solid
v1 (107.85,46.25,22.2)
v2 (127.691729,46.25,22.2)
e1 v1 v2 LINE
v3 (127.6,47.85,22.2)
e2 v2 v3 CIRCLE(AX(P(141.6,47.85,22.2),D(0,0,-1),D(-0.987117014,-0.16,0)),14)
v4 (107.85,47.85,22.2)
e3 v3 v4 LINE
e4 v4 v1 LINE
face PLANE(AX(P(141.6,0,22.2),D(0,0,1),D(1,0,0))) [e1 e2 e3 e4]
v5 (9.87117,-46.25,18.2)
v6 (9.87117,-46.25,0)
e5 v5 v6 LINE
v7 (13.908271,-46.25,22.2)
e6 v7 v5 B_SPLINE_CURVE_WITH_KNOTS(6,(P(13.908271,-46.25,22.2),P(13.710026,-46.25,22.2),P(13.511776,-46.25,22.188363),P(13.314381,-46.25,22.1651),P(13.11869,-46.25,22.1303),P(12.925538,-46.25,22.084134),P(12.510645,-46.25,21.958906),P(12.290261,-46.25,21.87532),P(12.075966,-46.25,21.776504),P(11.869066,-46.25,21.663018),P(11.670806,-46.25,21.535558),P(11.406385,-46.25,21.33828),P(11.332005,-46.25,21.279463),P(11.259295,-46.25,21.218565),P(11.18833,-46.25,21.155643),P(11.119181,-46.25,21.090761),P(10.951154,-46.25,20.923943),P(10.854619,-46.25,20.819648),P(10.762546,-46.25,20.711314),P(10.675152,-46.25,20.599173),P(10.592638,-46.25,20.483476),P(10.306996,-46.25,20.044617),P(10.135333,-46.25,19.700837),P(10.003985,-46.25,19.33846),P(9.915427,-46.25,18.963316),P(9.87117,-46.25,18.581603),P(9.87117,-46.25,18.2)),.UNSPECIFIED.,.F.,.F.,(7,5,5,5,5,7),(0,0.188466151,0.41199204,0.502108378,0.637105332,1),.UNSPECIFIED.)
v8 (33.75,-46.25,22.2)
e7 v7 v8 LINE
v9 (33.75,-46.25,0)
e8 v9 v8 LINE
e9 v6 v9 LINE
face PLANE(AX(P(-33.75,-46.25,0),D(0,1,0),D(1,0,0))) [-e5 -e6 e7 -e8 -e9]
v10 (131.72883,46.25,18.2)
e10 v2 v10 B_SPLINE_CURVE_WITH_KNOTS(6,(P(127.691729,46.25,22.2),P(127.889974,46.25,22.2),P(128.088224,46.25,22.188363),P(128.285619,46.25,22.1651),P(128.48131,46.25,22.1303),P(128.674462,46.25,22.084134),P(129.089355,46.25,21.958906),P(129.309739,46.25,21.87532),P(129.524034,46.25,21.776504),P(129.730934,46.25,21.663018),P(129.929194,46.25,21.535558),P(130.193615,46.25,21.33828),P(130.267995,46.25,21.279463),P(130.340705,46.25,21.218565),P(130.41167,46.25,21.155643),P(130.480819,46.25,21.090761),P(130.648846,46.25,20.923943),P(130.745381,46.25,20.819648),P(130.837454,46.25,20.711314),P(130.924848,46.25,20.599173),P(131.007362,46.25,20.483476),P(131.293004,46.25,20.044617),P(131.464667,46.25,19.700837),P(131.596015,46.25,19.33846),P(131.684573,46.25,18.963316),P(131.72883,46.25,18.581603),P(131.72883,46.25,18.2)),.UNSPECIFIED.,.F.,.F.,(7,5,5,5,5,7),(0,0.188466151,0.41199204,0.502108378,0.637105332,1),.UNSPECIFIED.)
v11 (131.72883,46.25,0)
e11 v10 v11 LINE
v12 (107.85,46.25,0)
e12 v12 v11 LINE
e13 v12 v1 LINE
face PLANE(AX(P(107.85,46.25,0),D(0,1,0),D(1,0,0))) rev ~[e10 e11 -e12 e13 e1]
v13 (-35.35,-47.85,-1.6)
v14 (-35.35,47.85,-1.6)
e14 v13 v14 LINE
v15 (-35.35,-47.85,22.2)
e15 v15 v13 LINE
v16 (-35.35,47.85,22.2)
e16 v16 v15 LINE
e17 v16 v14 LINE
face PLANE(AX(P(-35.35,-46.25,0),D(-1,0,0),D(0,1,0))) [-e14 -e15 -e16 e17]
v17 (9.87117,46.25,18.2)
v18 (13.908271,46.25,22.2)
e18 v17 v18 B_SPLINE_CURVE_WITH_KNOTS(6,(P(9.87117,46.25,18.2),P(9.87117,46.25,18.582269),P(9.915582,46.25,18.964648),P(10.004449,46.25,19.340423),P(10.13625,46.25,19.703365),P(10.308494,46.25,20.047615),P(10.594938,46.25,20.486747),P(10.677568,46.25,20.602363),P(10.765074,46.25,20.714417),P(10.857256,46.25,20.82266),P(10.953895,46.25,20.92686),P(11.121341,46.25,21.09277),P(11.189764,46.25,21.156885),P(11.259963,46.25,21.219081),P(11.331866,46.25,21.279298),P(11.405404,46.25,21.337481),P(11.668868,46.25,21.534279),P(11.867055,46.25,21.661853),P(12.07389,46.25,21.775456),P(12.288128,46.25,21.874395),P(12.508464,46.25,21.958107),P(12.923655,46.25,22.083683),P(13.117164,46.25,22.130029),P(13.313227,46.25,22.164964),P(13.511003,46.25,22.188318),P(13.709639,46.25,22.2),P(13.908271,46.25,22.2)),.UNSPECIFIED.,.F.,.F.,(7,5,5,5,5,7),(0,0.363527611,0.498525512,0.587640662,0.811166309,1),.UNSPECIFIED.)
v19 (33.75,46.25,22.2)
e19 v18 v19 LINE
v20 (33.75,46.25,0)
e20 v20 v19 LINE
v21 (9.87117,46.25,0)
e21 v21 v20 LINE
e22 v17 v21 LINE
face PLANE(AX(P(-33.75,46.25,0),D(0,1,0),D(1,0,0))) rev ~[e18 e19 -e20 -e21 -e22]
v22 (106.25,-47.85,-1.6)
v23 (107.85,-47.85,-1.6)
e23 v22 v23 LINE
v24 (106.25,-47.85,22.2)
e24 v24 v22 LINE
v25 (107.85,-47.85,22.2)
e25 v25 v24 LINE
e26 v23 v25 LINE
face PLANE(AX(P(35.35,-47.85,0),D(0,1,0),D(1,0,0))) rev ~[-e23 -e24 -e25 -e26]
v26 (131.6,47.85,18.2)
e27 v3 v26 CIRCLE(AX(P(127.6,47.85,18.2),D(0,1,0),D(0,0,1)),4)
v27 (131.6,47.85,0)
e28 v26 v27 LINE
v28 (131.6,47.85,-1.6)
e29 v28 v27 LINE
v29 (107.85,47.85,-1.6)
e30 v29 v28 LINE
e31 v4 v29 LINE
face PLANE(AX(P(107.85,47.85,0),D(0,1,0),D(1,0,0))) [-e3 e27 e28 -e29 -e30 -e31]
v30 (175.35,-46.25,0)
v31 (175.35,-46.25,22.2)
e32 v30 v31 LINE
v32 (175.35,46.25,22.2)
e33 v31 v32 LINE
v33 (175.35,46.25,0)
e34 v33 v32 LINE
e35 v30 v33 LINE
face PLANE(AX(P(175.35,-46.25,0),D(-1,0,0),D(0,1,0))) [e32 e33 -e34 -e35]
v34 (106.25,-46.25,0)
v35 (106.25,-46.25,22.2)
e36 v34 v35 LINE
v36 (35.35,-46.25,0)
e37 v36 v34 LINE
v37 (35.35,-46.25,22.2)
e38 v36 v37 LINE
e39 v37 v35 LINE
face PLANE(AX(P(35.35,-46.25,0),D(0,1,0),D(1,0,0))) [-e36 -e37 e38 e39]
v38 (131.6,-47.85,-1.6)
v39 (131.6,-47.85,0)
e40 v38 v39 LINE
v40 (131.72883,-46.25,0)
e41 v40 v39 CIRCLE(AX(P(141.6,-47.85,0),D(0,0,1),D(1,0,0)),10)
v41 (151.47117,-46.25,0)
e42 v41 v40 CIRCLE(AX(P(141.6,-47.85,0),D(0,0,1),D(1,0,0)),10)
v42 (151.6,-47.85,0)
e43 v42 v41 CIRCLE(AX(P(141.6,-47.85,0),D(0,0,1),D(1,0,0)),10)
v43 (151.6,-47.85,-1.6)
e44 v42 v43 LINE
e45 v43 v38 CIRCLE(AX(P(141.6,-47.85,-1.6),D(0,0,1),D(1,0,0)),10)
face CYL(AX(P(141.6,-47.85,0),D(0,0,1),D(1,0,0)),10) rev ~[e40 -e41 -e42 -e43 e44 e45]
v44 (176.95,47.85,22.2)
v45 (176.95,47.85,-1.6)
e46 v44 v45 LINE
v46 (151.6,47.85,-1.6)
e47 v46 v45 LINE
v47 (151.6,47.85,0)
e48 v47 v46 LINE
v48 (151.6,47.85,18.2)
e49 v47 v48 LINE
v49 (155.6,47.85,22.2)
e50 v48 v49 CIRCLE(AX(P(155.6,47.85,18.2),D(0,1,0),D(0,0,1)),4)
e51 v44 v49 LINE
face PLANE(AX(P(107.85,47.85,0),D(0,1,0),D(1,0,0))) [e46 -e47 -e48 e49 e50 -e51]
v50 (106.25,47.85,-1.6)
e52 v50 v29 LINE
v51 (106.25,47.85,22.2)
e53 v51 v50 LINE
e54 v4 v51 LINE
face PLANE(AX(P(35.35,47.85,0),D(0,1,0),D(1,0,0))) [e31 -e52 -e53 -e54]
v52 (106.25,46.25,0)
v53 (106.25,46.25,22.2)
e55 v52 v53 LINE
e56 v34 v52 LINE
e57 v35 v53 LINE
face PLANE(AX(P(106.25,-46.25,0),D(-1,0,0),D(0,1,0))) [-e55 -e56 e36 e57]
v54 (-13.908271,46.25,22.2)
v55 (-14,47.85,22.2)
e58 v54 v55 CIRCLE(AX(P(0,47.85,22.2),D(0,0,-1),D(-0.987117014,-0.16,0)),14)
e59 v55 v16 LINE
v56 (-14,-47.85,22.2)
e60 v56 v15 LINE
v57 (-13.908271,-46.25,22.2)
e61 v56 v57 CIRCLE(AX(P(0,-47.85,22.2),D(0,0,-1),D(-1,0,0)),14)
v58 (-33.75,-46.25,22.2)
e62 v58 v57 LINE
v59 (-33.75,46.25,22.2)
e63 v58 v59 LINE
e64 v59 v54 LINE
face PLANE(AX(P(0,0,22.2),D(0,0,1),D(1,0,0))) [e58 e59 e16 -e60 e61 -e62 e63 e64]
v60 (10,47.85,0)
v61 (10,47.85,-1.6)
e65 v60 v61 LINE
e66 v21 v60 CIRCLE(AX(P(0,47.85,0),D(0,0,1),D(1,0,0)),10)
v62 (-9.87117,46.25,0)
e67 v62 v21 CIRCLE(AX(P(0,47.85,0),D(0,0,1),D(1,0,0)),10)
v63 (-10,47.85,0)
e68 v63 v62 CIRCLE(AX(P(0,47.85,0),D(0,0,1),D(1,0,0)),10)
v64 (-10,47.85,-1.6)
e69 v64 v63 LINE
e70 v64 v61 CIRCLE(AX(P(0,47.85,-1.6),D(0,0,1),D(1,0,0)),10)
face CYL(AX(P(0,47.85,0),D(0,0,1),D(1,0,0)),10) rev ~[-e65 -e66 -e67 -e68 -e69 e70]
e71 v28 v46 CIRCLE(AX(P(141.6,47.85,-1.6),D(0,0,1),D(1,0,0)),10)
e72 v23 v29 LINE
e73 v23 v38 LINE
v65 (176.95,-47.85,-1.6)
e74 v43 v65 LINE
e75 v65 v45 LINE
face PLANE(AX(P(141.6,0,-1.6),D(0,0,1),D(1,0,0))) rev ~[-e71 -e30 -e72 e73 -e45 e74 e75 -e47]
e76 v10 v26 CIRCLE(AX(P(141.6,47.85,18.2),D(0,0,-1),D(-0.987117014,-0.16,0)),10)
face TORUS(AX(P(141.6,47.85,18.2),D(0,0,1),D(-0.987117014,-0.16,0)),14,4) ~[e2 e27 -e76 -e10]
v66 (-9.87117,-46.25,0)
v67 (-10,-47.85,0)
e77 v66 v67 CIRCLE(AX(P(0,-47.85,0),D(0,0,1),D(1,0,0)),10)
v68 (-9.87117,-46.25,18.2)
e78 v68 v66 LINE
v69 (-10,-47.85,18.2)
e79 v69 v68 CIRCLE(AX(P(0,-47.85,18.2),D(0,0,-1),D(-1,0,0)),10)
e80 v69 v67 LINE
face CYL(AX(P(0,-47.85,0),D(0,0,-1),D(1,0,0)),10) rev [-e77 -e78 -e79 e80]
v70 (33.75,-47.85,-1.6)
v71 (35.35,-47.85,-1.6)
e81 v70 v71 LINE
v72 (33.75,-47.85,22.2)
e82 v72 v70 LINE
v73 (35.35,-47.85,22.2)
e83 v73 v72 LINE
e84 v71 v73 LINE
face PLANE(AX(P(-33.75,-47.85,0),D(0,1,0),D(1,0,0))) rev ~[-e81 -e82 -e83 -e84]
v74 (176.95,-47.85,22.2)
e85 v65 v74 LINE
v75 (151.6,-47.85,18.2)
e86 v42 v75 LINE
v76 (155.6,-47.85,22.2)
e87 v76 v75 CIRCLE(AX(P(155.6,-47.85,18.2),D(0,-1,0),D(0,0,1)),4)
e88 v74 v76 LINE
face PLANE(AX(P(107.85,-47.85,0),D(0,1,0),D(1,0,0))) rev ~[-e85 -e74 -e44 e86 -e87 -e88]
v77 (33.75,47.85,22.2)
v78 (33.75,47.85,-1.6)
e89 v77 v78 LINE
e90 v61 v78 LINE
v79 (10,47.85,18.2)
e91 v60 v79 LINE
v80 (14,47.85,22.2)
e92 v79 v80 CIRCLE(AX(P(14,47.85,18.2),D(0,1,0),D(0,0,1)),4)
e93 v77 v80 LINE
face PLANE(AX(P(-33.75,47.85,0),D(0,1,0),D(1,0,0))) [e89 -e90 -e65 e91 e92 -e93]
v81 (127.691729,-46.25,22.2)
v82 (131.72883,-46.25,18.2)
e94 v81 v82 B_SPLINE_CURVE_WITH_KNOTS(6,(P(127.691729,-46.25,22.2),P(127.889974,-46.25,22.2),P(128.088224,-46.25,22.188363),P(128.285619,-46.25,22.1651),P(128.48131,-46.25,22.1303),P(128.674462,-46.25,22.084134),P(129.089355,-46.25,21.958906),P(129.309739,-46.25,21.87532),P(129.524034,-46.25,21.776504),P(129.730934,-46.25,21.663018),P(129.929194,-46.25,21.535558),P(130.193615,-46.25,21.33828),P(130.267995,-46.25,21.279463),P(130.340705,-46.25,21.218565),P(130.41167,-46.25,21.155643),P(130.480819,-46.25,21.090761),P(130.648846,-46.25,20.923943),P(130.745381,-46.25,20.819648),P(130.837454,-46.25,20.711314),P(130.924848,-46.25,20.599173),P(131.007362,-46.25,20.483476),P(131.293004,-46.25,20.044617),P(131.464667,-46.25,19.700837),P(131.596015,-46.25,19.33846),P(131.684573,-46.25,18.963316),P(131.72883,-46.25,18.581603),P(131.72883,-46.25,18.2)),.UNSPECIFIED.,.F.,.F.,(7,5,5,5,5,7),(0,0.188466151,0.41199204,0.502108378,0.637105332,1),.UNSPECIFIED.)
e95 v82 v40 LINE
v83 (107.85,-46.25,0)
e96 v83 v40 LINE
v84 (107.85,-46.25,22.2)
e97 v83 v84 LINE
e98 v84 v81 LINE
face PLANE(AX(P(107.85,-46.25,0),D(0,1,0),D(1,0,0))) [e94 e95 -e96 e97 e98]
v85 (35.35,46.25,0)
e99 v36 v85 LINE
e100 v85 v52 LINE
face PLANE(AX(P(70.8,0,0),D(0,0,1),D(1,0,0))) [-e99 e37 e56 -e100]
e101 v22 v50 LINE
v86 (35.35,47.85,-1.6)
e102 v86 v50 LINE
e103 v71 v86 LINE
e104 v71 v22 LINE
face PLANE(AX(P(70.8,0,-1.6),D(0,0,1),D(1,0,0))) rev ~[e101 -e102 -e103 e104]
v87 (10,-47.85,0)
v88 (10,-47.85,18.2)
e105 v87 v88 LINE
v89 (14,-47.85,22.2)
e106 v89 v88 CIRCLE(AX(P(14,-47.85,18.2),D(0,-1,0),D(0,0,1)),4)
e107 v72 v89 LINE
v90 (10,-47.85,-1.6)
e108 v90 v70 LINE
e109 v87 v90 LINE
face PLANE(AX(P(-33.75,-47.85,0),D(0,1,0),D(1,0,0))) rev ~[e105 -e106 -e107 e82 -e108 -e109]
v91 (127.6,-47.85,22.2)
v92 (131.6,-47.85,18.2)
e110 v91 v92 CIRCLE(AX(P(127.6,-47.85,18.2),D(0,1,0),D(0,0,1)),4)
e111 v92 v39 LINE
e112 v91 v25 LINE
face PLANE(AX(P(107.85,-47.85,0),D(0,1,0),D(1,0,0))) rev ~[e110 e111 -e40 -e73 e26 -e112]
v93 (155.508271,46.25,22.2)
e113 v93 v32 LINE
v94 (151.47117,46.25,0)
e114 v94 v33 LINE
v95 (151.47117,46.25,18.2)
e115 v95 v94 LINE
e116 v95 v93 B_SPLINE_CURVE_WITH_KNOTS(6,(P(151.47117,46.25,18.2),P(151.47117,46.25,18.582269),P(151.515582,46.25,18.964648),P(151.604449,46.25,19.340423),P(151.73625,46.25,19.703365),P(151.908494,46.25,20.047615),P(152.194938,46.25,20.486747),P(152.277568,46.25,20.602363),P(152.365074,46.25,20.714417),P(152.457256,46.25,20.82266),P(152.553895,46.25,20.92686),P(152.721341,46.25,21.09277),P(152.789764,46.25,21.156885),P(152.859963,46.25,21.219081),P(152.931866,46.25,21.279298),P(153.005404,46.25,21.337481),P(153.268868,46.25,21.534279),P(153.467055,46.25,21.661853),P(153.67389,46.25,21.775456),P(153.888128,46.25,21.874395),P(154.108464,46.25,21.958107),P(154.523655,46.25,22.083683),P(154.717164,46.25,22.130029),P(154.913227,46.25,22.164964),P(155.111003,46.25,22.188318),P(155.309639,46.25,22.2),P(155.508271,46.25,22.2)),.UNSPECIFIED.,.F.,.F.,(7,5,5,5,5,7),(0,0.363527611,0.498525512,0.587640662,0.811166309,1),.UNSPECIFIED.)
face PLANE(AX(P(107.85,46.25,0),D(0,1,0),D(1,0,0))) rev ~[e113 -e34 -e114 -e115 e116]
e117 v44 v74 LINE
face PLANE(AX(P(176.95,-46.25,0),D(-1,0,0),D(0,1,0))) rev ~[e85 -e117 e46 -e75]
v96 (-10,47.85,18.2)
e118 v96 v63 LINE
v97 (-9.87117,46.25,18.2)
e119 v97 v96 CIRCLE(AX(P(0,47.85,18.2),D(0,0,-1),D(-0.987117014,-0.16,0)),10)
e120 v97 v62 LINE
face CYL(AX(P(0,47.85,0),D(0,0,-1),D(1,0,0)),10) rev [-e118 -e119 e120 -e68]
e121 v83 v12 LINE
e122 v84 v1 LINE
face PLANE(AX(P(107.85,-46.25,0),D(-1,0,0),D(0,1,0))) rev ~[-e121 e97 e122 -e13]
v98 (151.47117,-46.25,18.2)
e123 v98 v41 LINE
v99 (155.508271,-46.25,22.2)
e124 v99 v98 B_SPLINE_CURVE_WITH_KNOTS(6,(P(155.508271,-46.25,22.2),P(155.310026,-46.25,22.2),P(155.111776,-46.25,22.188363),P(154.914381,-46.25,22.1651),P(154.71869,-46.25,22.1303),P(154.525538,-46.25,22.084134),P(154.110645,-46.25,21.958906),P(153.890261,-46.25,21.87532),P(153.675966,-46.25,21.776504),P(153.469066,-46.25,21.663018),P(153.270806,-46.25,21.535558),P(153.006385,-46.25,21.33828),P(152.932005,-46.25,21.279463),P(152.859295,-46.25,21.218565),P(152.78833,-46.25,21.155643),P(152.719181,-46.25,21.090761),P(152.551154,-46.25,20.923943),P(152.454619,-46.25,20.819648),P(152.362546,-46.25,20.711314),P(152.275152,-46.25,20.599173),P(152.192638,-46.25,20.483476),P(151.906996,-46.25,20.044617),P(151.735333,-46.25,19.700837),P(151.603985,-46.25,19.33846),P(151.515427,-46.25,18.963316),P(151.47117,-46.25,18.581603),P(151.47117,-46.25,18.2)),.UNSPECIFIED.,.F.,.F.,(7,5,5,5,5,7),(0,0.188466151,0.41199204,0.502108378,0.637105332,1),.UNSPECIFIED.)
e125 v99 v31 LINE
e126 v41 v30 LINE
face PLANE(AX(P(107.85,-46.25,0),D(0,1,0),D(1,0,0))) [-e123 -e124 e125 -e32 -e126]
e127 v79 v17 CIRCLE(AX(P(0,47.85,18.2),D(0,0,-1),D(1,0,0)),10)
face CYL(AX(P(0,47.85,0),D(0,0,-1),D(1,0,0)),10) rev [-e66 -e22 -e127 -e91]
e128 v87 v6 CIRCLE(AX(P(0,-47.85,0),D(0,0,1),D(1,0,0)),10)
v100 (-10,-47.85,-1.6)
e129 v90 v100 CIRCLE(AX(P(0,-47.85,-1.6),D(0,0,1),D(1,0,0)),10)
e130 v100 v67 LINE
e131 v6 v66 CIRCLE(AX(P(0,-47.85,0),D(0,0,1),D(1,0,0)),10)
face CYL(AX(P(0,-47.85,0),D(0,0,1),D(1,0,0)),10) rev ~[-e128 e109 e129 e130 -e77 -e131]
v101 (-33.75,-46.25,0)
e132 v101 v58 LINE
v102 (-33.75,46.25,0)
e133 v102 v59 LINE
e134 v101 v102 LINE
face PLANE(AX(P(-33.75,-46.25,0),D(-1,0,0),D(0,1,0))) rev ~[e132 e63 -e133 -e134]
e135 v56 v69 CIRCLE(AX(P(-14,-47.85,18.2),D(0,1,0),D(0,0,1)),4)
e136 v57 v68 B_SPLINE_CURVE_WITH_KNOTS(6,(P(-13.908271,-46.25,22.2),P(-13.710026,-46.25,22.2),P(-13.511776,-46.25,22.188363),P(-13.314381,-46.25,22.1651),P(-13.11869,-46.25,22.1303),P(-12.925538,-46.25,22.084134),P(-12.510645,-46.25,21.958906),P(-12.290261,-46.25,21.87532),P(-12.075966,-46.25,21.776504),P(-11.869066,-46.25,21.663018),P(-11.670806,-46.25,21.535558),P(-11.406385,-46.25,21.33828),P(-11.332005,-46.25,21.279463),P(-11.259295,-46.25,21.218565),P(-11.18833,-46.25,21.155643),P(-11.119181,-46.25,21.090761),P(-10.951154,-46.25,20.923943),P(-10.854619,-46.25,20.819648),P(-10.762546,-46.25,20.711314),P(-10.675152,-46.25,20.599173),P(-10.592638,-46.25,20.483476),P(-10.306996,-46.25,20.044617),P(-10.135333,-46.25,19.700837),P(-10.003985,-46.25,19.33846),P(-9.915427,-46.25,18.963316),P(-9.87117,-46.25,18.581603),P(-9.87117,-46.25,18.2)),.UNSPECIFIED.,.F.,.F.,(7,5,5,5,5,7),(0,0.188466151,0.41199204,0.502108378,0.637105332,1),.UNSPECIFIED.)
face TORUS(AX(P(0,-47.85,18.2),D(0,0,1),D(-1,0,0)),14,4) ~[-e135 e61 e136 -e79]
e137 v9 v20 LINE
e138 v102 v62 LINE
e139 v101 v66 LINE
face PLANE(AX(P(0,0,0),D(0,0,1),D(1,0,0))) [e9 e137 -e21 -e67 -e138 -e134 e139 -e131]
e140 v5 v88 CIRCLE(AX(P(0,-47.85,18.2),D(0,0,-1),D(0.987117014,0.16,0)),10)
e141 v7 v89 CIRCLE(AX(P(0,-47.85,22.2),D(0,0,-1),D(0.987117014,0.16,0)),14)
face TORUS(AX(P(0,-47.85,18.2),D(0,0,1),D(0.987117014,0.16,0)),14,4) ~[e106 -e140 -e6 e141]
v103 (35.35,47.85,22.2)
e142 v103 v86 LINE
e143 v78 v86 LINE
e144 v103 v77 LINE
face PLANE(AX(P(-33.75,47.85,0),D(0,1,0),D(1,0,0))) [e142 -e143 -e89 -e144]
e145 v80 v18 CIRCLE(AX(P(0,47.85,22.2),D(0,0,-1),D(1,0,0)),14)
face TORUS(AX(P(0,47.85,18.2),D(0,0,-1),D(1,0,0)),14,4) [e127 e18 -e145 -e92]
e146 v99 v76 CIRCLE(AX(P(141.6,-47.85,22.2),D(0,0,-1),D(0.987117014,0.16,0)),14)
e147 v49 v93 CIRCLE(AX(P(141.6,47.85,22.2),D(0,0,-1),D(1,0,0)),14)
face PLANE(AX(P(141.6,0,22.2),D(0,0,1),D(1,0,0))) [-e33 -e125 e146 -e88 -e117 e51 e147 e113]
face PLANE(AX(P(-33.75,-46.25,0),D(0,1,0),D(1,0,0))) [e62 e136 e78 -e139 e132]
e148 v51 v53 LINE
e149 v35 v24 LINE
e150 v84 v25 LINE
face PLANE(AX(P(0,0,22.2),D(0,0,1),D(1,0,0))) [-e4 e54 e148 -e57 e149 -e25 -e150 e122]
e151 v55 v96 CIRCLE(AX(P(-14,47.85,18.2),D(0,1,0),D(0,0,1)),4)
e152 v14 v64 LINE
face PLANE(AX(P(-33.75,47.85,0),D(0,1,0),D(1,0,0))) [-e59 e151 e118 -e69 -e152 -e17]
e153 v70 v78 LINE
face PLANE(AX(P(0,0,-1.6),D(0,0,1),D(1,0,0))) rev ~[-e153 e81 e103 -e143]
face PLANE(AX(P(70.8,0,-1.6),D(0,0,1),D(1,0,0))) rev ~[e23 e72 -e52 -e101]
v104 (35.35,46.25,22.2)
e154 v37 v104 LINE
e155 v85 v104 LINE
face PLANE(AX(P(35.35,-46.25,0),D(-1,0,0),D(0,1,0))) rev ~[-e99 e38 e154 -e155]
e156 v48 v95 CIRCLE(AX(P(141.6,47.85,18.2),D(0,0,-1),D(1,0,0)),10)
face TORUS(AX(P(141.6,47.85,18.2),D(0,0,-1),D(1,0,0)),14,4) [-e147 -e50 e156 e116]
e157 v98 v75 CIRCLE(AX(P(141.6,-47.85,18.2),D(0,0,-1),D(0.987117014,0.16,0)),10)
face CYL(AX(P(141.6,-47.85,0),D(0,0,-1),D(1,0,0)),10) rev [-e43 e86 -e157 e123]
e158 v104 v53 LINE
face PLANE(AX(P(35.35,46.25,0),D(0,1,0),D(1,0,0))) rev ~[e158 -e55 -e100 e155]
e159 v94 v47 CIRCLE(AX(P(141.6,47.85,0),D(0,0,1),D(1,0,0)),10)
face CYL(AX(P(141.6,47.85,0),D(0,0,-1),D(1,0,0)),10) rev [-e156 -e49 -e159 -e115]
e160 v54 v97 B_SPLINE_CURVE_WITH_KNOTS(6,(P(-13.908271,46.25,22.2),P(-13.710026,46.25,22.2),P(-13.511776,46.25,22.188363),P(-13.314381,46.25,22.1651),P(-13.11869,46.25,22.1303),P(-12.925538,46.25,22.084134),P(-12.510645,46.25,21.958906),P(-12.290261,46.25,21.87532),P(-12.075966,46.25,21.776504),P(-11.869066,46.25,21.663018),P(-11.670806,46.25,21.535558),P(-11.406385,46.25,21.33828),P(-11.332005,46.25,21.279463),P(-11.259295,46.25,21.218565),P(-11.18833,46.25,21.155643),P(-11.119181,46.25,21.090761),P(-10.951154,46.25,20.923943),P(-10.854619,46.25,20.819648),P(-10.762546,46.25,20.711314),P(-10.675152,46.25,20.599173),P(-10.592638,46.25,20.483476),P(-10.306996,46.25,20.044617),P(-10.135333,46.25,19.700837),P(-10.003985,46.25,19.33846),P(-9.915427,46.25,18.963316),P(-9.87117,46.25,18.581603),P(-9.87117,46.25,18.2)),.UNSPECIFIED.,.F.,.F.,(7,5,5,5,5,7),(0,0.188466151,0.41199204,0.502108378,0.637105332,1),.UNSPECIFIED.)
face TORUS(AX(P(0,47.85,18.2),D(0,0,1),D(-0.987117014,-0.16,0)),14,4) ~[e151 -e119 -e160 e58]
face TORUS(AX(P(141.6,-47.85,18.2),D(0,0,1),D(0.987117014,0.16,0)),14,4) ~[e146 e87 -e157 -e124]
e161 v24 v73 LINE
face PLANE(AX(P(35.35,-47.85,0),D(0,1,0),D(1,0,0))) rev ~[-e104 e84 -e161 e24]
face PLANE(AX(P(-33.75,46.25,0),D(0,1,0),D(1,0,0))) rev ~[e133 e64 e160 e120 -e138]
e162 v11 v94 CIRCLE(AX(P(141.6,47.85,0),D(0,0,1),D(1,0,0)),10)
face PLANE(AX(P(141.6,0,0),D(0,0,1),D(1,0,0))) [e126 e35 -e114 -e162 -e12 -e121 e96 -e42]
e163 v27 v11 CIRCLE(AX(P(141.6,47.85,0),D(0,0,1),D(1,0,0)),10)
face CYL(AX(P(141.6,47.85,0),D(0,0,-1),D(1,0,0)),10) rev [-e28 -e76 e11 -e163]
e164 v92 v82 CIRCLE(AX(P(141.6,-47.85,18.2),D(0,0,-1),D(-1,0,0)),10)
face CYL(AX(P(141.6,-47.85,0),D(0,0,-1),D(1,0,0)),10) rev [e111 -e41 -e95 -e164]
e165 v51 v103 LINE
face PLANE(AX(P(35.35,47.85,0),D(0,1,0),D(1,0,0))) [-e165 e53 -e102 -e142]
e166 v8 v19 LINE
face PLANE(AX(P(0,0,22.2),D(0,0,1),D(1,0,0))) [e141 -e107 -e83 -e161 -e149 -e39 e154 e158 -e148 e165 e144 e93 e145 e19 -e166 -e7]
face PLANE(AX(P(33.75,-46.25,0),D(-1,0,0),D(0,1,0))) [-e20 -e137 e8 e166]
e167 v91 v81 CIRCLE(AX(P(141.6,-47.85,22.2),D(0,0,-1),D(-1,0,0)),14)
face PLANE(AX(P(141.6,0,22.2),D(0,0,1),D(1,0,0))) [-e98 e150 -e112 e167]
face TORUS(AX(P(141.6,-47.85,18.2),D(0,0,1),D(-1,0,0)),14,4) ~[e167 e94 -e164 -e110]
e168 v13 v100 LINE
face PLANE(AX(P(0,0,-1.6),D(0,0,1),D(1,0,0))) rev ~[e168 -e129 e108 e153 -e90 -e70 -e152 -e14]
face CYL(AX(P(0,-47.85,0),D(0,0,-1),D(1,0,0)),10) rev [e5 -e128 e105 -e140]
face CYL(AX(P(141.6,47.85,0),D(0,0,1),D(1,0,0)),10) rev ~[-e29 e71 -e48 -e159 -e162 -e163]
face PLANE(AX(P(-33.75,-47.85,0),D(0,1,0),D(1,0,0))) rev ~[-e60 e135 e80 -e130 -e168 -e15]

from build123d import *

# Parameters (mm, degrees)
SKETCH112_W          = 70.9
SKETCH112_H          = 92.5
PAD067_DEPTH         = 22.2
THICKNESS047_T       = 1.6
SKETCH110_W          = 67.5
SKETCH110_H          = 92.5
PAD066_DEPTH         = 22.2
THICKNESS046_T       = 1.6
SKETCH111_R          = 10
POCKET039_DEPTH      = 22.201
POCKET039_DEPTH_BACK = 1.601
FILLET014_R          = 4
SKETCH108_W          = 67.5
SKETCH108_H          = 92.5
PAD065_DEPTH         = 22.2
THICKNESS045_T       = 1.6
SKETCH109_R          = 10
POCKET038_DEPTH      = 22.201
POCKET038_DEPTH_BACK = 1.601
FILLET015_R          = 4


with BuildPart() as piecestray001:
    # Sketch112 → Pad067 (new body)
    with BuildSketch(Plane.XY):
        Rectangle(SKETCH112_W, SKETCH112_H)
    extrude(amount=PAD067_DEPTH)

    # Thickness047
    thickness047_openings = [piecestray001.faces().sort_by_distance(p)[0] for p in [
        (0, 0, 22.2),
    ]]
    offset(amount=THICKNESS047_T, openings=thickness047_openings, kind=Kind.INTERSECTION)


with BuildPart() as piecestray001_1:
    # Body059 placement: moved
    add(piecestray001.part.moved(Location((70.8, 0, 0))))


with BuildPart() as discardpile001:
    # Sketch110 → Pad066 (new body)
    with BuildSketch(Plane.XY):
        Rectangle(SKETCH110_W, SKETCH110_H)
    extrude(amount=PAD066_DEPTH)

    # Thickness046
    thickness046_openings = [discardpile001.faces().sort_by_distance(p)[0] for p in [
        (0, 0, 22.2),
    ]]
    offset(amount=THICKNESS046_T, openings=thickness046_openings, kind=Kind.INTERSECTION)

    # Sketch111 → Pocket039 (cut, two sides)
    with BuildSketch(Plane.XY) as pocket039_sk:
        with Locations((0, -47.85)):
            Circle(SKETCH111_R)
        with Locations((0, 47.85)):
            Circle(SKETCH111_R)
    extrude(amount=POCKET039_DEPTH, mode=Mode.SUBTRACT)
    extrude(pocket039_sk.sketch, amount=-POCKET039_DEPTH_BACK, mode=Mode.SUBTRACT)

    # Fillet014
    fillet014_edges = [discardpile001.edges().sort_by_distance(p)[0] for p in [
        (9.967741, 47.047411, 22.2),
        (-9.967741, 47.047411, 22.2),
        (-9.967741, -47.047411, 22.2),
        (9.967741, -47.047411, 22.2),
    ]]
    fillet(fillet014_edges, radius=FILLET014_R)


with BuildPart() as discardpile001_1:
    # Body058 placement: moved
    add(discardpile001.part.moved(Location((141.6, 0, 0))))


with BuildPart() as drawpile001:
    # Sketch108 → Pad065 (new body)
    with BuildSketch(Plane.XY):
        Rectangle(SKETCH108_W, SKETCH108_H)
    extrude(amount=PAD065_DEPTH)

    # Thickness045
    thickness045_openings = [drawpile001.faces().sort_by_distance(p)[0] for p in [
        (0, 0, 22.2),
    ]]
    offset(amount=THICKNESS045_T, openings=thickness045_openings, kind=Kind.INTERSECTION)

    # Sketch109 → Pocket038 (cut, two sides)
    with BuildSketch(Plane.XY) as pocket038_sk:
        with Locations((0, -47.85)):
            Circle(SKETCH109_R)
        with Locations((0, 47.85)):
            Circle(SKETCH109_R)
    extrude(amount=POCKET038_DEPTH, mode=Mode.SUBTRACT)
    extrude(pocket038_sk.sketch, amount=-POCKET038_DEPTH_BACK, mode=Mode.SUBTRACT)

    # Fillet015
    fillet015_edges = [drawpile001.edges().sort_by_distance(p)[0] for p in [
        (-9.967741, 47.047411, 22.2),
        (-9.967741, -47.047411, 22.2),
        (9.967741, 47.047411, 22.2),
        (9.967741, -47.047411, 22.2),
    ]]
    fillet(fillet015_edges, radius=FILLET015_R)

    # Boolean002: union PiecesTray001, DiscardPile001
    add(piecestray001_1.part)
    add(discardpile001_1.part)


solid = drawpile001.part
